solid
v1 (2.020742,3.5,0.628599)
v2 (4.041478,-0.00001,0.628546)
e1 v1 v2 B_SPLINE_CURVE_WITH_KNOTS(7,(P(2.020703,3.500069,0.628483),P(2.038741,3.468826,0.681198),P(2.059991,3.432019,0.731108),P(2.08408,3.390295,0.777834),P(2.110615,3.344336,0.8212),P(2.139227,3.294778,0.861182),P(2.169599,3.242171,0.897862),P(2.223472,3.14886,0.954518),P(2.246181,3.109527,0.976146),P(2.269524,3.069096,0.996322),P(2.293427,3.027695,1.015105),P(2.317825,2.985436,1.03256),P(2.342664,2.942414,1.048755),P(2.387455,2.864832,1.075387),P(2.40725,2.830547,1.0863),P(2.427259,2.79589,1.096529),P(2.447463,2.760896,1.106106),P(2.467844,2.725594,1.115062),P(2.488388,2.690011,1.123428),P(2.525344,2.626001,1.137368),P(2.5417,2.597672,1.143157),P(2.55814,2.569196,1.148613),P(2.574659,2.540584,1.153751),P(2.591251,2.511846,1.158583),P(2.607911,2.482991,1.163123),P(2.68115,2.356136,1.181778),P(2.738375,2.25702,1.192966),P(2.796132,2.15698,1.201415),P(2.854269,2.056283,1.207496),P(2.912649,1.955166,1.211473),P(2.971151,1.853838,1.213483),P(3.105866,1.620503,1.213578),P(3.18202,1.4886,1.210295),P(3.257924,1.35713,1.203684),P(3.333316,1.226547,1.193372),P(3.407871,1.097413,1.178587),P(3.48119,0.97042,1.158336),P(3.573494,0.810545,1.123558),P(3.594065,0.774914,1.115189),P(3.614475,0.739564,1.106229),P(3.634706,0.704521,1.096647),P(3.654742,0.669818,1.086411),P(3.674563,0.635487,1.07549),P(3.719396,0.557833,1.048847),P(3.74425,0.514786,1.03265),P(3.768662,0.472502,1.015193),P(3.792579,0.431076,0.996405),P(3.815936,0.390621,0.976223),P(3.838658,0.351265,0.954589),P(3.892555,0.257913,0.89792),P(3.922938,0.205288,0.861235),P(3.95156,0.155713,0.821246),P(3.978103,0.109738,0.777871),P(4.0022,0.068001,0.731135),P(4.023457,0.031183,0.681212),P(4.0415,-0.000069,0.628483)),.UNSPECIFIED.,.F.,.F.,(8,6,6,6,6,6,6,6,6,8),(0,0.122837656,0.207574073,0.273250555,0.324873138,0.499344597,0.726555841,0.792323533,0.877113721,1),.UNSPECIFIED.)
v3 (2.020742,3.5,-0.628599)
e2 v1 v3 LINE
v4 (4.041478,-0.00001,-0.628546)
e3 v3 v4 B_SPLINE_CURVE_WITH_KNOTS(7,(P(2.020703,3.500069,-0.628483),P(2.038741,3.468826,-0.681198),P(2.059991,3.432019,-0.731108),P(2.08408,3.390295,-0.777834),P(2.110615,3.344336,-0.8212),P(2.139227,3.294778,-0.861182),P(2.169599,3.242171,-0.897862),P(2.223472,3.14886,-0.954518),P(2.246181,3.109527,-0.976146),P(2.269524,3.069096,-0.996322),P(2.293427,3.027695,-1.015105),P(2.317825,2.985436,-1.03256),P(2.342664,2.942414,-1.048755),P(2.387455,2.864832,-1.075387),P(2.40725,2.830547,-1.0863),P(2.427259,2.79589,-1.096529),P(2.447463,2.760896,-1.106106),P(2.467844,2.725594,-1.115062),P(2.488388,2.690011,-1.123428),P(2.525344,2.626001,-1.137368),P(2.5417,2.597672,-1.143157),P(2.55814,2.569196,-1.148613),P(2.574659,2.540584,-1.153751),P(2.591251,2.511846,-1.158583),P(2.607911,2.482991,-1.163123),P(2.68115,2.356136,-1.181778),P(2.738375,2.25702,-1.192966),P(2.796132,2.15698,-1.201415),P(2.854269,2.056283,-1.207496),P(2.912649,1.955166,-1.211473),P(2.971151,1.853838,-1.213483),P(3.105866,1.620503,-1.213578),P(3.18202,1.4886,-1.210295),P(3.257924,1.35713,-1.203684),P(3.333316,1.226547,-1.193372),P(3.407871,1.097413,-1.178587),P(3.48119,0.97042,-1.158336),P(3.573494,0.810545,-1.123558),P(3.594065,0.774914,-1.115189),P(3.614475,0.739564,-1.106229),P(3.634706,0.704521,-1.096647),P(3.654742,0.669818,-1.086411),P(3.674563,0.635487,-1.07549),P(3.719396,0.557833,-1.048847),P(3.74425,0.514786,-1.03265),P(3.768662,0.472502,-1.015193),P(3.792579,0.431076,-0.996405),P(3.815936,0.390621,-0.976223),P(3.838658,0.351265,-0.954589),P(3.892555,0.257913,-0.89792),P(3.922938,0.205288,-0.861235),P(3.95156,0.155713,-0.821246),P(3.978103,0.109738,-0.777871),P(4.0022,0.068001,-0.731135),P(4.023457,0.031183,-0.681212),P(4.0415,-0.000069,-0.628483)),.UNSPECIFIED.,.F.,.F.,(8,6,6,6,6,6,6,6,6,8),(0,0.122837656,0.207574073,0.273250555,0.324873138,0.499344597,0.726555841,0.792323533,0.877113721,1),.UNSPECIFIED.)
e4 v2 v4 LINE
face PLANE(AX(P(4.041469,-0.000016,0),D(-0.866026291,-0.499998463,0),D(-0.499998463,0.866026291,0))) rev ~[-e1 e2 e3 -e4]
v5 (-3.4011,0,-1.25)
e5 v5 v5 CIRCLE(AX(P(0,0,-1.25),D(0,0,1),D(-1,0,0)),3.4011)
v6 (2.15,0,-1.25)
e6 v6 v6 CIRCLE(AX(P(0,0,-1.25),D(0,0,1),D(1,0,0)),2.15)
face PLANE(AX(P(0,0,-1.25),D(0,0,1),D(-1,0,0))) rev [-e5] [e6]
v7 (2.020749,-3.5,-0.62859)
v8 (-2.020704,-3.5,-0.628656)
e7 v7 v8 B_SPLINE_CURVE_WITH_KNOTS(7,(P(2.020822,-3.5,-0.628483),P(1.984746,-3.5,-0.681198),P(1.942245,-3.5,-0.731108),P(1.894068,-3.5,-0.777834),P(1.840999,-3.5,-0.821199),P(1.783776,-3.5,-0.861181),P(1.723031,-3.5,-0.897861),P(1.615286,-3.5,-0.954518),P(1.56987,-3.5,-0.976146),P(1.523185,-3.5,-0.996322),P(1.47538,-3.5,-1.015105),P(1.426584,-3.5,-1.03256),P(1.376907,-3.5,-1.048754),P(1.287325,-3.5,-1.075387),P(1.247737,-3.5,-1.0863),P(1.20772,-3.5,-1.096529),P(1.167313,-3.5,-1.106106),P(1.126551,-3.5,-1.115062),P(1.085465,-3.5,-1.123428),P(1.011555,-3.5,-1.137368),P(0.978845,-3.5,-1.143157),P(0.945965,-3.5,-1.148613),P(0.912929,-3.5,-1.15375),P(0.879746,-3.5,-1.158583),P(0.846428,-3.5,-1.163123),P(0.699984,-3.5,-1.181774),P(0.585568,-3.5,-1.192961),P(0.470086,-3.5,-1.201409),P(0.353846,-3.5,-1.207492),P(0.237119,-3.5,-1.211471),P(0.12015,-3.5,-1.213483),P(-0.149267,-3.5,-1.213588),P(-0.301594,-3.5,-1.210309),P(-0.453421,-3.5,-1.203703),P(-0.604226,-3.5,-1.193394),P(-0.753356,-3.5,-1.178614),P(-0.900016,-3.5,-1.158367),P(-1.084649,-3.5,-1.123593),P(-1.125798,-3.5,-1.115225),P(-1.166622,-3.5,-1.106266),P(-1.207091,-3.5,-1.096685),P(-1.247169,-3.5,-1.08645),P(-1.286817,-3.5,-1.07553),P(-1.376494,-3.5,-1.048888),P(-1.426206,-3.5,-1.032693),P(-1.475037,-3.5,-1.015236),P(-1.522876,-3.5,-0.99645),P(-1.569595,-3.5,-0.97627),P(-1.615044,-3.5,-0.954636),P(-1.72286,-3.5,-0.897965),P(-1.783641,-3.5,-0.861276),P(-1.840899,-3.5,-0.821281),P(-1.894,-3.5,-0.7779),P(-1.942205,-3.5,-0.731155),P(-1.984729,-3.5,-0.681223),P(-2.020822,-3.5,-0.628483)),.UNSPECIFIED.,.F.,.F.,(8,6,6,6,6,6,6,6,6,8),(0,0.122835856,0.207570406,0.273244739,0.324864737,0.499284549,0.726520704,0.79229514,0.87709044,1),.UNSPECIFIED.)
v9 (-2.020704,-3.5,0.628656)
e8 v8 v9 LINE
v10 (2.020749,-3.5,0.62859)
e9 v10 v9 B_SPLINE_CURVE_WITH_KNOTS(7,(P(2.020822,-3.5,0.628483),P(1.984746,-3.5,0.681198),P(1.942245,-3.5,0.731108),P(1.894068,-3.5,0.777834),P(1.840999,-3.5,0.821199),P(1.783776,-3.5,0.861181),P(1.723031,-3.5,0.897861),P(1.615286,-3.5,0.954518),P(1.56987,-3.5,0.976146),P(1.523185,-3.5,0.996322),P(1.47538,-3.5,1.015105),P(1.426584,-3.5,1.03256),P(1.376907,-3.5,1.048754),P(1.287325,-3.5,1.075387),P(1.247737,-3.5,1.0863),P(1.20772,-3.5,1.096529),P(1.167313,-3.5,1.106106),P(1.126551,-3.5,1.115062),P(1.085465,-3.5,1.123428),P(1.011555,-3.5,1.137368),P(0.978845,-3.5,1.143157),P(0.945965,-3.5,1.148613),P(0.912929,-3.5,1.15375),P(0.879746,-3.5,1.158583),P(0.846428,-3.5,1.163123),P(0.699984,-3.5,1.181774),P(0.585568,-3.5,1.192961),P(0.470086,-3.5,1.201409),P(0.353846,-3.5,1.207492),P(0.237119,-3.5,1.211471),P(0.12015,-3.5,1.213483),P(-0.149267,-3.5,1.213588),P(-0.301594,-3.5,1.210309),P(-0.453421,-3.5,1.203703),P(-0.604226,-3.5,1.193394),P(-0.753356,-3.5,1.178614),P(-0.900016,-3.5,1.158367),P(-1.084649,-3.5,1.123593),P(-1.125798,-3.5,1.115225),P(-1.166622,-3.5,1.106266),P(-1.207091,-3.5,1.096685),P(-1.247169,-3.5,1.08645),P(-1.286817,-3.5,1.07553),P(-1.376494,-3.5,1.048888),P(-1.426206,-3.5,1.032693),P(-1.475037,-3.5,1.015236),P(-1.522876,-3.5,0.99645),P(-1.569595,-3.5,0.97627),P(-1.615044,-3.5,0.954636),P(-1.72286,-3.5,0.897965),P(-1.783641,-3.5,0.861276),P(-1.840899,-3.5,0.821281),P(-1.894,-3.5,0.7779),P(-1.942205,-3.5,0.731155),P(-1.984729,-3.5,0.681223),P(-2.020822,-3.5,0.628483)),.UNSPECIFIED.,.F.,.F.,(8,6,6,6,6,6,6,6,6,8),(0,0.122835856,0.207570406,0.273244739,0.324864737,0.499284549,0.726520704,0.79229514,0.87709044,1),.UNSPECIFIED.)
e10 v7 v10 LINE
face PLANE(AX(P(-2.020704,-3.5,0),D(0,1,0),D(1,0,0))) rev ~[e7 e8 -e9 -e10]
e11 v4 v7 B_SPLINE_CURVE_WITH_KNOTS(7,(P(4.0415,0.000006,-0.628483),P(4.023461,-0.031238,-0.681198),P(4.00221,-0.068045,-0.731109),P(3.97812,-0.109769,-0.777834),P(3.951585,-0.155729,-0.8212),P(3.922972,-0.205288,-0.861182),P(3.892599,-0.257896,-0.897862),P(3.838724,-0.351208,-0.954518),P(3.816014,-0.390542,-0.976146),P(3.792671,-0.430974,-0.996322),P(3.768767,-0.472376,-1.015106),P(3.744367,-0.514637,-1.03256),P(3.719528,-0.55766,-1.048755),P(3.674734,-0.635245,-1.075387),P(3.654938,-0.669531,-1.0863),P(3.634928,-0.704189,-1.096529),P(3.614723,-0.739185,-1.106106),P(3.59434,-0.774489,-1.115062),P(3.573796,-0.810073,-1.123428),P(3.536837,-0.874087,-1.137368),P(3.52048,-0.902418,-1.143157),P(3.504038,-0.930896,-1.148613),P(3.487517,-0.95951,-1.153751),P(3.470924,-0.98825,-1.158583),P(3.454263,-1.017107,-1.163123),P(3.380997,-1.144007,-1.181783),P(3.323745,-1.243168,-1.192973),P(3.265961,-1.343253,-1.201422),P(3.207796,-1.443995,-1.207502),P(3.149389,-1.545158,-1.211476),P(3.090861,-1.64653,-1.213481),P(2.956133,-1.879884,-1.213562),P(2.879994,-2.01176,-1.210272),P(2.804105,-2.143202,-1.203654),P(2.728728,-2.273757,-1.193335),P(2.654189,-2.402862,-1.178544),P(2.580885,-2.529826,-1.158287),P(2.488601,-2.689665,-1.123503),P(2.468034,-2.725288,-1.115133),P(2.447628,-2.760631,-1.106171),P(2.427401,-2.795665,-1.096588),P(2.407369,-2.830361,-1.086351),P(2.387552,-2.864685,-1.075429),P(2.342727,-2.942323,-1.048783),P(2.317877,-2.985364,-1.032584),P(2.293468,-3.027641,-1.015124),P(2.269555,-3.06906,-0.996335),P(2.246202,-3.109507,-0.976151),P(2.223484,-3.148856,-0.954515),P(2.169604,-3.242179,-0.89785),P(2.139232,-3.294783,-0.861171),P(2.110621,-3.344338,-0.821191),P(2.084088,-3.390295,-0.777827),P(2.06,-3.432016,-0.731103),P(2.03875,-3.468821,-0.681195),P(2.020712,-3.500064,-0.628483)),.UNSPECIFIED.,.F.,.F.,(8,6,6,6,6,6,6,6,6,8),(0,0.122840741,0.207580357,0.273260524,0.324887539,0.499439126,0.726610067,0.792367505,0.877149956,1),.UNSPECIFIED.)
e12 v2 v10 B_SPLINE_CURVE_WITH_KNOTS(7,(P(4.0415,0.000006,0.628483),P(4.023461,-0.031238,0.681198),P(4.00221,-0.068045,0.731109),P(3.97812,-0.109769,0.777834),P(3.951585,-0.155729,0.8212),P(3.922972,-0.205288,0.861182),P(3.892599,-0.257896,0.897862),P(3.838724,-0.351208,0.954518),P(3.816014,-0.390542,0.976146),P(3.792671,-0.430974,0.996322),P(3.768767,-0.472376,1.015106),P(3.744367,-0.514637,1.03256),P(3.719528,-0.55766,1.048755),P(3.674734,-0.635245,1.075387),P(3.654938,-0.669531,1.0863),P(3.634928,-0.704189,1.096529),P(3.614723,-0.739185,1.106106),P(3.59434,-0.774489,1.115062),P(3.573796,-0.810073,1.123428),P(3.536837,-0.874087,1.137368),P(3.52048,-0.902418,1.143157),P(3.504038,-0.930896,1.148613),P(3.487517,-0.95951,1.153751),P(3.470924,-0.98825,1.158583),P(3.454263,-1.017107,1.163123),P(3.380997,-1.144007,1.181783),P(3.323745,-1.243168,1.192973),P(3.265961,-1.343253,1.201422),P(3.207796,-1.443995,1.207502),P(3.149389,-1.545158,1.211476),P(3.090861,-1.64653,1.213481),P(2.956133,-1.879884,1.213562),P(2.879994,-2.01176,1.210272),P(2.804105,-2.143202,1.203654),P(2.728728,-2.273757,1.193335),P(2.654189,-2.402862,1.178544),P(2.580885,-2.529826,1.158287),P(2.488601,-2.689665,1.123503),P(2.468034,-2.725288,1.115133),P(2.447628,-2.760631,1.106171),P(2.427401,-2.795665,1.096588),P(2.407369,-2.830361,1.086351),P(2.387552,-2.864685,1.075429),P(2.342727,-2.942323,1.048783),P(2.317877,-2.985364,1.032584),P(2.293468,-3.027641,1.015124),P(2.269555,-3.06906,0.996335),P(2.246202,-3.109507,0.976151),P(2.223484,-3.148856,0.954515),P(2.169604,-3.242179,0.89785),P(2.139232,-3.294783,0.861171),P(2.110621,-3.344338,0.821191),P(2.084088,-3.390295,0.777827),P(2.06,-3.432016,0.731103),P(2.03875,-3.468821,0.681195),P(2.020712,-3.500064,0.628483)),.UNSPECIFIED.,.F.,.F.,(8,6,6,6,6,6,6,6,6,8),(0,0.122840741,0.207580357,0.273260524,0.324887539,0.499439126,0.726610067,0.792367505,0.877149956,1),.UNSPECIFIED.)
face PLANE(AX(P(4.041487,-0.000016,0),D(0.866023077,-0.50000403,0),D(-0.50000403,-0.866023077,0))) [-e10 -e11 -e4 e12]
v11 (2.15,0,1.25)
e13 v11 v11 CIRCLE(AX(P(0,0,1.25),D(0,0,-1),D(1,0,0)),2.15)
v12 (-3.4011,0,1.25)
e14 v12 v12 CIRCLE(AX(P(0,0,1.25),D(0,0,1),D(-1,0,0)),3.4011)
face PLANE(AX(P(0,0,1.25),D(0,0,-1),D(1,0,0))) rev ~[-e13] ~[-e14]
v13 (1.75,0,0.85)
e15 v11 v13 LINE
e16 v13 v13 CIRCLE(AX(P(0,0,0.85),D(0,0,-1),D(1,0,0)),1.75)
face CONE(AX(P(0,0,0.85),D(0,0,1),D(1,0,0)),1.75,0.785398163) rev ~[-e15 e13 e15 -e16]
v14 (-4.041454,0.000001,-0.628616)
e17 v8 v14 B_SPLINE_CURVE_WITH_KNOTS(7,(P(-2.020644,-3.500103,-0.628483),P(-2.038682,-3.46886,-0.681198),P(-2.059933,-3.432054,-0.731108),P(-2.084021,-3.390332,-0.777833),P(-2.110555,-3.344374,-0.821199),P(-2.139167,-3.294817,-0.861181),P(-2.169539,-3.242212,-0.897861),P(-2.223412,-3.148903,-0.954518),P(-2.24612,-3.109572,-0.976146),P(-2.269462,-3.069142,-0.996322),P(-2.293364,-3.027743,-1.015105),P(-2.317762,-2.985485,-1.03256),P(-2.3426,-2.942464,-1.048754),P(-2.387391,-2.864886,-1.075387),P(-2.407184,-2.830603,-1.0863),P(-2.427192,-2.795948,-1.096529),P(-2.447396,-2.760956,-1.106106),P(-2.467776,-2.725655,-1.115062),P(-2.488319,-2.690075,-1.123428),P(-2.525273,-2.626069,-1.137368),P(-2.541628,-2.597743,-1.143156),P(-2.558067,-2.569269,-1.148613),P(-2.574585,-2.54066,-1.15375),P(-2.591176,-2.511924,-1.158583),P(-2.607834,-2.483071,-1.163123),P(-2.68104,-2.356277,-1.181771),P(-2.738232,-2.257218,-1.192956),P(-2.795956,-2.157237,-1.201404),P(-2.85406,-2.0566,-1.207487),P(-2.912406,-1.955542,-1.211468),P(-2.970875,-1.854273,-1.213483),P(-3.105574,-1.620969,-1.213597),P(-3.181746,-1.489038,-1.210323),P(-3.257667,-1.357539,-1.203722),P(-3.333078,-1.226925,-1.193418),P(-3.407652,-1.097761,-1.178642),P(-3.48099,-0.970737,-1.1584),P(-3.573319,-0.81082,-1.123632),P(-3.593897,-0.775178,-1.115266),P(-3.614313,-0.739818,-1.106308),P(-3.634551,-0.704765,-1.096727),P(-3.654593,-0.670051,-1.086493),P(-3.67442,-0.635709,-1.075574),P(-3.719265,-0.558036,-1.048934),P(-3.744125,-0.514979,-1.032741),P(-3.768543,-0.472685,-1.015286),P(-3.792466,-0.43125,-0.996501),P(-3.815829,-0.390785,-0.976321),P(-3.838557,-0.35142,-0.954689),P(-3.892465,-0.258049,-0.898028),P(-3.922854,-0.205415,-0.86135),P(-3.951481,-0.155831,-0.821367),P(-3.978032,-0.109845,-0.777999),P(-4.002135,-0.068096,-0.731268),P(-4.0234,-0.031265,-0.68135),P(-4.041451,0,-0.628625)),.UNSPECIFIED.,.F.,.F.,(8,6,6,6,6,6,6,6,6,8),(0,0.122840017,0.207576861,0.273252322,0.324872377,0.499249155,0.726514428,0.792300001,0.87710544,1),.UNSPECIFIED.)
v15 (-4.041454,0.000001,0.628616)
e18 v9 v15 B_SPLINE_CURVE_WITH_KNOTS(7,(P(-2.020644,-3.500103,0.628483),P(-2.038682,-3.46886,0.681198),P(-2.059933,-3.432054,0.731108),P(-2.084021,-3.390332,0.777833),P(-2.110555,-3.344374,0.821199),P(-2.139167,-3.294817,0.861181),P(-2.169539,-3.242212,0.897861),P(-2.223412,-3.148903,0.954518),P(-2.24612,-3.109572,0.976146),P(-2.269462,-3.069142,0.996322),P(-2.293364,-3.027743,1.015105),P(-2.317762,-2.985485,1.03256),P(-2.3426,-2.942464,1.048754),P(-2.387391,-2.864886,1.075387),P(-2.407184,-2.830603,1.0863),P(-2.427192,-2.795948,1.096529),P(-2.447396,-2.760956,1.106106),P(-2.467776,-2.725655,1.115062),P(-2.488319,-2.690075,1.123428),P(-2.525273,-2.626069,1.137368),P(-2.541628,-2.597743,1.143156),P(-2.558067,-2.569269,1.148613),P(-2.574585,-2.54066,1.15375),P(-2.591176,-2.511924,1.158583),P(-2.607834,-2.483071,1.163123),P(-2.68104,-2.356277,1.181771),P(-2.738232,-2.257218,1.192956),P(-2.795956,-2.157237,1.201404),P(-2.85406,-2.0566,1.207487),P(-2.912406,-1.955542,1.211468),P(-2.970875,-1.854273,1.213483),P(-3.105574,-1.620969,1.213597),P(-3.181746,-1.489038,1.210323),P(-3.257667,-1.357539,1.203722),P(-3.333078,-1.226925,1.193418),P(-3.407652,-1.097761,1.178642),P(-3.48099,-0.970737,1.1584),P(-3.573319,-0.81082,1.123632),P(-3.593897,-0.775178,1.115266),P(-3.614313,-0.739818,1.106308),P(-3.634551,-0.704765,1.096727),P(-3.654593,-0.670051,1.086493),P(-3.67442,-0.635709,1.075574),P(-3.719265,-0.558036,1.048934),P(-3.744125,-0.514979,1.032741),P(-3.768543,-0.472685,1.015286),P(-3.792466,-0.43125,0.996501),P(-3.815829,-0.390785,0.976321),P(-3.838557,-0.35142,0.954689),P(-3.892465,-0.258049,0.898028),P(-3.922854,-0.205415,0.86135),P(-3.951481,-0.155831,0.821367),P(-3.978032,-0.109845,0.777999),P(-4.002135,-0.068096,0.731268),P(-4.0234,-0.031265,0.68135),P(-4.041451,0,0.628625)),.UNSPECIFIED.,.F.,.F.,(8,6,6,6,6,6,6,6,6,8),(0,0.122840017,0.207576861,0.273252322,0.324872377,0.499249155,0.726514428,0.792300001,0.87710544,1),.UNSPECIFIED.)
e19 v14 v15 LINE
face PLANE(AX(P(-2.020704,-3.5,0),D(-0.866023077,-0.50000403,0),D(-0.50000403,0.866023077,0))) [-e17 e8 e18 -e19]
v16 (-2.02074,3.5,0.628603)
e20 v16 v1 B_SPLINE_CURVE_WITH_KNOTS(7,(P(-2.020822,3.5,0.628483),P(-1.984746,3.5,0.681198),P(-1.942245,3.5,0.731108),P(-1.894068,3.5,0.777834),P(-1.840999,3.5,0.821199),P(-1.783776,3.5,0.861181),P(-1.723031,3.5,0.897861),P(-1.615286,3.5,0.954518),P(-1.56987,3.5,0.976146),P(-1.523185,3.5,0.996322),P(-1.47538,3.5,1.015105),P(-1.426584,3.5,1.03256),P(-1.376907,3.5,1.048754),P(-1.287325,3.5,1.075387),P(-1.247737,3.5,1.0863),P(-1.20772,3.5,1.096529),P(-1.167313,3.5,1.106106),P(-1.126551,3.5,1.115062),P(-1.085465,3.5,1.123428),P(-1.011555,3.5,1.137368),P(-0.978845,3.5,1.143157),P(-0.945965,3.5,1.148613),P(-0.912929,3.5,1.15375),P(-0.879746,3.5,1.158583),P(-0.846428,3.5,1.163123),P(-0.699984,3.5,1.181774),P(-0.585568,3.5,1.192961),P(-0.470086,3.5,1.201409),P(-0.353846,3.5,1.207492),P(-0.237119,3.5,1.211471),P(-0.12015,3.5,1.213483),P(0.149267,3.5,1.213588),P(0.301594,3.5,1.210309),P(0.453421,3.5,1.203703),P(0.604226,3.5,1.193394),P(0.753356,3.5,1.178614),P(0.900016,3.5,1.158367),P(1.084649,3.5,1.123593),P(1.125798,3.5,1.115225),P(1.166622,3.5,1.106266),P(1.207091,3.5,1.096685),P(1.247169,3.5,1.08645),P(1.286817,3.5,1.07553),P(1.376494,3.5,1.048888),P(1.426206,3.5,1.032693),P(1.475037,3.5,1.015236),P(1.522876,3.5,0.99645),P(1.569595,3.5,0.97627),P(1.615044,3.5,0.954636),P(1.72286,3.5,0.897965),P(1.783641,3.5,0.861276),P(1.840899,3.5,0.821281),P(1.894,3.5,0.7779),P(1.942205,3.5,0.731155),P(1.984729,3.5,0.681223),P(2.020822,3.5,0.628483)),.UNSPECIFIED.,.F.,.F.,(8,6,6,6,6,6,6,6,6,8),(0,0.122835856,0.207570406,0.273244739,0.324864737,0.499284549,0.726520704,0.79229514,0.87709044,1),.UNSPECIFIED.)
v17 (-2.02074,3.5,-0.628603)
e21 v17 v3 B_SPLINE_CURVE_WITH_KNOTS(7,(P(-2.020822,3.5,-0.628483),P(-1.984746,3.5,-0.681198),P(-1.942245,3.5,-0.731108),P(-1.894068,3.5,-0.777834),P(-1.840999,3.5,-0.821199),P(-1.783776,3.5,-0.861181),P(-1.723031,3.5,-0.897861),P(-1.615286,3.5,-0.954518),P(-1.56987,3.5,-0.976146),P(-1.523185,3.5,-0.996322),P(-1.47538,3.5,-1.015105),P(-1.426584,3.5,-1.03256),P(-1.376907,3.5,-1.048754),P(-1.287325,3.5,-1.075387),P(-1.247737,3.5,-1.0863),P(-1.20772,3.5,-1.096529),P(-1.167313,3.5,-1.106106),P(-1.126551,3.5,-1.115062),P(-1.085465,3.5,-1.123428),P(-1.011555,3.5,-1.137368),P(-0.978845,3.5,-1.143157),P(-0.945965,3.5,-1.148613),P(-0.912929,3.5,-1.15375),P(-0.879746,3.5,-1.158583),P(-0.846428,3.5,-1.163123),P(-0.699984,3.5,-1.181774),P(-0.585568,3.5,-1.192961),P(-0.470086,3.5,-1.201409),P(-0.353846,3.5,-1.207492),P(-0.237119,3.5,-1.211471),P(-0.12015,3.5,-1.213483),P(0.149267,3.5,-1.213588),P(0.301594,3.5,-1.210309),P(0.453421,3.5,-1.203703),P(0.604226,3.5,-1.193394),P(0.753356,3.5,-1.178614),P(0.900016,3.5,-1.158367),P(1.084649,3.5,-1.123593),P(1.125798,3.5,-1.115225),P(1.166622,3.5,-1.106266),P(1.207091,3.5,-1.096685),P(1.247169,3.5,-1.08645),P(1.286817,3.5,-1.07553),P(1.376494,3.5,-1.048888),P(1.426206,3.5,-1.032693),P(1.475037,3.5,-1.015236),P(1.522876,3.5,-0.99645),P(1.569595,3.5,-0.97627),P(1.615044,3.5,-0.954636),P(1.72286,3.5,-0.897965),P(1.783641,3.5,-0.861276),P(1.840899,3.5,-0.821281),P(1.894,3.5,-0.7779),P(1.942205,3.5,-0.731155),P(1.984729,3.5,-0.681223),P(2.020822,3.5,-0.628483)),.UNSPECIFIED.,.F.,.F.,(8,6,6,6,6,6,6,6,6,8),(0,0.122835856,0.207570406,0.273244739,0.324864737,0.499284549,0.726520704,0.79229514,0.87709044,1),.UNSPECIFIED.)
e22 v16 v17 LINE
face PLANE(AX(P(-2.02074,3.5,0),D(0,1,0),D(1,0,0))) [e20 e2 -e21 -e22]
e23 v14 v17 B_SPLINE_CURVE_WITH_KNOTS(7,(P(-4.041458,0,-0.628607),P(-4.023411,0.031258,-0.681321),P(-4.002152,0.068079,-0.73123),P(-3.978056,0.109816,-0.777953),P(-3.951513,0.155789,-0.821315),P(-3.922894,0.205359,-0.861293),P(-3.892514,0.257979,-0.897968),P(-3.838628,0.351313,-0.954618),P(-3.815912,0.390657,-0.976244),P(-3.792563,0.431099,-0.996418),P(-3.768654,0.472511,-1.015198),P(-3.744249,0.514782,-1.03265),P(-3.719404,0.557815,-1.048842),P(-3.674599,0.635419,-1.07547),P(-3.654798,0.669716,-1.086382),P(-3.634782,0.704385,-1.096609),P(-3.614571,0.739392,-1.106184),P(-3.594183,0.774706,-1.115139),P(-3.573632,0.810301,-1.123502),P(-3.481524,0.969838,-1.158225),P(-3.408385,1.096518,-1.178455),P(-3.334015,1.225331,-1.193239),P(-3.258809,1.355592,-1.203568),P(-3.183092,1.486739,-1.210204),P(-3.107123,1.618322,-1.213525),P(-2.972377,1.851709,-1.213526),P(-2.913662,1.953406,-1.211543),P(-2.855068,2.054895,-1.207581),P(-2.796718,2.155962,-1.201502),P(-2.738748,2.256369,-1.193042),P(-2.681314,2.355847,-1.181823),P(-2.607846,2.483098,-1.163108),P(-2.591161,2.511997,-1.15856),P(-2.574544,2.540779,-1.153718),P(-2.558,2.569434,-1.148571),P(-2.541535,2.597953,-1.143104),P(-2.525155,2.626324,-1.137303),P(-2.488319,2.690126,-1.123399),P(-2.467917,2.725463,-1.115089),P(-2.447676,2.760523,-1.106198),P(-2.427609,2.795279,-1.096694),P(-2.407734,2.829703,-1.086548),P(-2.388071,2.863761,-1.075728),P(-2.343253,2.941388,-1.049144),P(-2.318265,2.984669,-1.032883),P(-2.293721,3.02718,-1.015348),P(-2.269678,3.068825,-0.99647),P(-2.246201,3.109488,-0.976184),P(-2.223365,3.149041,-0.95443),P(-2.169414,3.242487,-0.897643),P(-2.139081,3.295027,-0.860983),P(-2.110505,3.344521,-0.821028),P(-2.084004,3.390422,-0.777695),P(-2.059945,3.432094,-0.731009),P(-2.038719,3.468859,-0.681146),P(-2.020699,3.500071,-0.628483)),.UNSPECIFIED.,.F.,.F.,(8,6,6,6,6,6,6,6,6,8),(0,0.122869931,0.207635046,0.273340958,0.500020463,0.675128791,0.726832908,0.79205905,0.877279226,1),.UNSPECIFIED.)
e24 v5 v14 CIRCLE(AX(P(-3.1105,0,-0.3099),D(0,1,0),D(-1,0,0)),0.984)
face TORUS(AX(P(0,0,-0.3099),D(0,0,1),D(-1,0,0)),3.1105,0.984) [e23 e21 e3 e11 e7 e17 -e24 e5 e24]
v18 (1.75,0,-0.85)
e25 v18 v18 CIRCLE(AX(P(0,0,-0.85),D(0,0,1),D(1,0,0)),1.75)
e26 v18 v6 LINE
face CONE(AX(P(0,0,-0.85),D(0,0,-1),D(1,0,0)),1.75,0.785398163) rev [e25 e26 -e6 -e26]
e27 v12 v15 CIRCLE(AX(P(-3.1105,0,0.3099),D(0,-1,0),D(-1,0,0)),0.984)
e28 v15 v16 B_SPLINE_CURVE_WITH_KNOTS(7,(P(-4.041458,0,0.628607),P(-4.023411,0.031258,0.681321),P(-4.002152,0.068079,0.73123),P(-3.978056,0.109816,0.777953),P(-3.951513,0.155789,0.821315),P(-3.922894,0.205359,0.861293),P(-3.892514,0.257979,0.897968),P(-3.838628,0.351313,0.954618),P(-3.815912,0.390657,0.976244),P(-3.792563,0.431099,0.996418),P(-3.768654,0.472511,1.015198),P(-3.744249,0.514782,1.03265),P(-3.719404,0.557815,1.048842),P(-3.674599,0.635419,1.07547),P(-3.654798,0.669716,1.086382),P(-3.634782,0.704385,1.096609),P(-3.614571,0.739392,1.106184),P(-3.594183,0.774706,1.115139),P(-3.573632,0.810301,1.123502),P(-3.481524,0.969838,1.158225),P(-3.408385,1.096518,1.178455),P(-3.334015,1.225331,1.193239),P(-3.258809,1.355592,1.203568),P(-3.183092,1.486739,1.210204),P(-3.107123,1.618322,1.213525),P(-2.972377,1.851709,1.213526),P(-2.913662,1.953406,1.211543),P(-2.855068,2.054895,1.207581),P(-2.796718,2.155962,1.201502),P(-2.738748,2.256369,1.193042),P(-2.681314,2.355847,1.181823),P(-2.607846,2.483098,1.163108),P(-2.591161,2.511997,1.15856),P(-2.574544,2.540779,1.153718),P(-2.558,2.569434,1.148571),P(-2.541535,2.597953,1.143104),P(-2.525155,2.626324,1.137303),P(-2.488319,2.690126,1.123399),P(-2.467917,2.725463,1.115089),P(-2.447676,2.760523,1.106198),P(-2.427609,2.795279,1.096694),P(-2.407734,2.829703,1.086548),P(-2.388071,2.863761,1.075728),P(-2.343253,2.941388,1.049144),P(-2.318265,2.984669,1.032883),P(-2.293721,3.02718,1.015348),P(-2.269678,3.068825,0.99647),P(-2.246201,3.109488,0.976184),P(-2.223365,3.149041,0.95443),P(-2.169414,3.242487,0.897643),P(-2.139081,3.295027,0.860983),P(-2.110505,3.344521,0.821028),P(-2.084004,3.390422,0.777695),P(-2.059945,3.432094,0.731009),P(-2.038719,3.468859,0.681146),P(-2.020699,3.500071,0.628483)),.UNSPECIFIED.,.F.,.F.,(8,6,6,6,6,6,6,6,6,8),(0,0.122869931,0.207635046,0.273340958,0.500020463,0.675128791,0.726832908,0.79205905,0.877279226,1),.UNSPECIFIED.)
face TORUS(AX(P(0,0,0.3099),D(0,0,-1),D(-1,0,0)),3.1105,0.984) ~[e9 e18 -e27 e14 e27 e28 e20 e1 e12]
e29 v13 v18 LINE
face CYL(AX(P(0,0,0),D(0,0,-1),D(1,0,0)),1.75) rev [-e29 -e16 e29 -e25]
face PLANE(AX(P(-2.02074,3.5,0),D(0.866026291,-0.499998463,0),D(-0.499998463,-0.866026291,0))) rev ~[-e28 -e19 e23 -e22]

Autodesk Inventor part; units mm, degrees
ref_plane "YZ Plane" through (0, 0, 0) normal (1, 0, 0) x (0, 1, 0)
ref_plane "XZ Plane" through (0, 0, 0) normal (0, 1, 0) x (-1, 0, 0)
ref_plane "XY Plane" through (0, 0, 0) normal (0, 0, 1) x (1, 0, 0)
sketch "Sketch1" plane through (0, 0, 0) normal (0, 0, 1) x (1, 0, 0)
  line L0 (-4.0776, 0) -> (11.9806, 0)
  line L1 (0, 5.675) -> (0, -5.0865)
  line L2 (-3.6188, 3.5) -> (4.159, 3.5)
  line L3 (-3.3522, -3.5) -> (4.4256, -3.5)
  line L4 (-1.2217, -4.8839) -> (-5.1106, 1.8518)
  line L5 (4.7072, -1.1531) -> (0.8183, 5.5827)
  line L6 (4.8405, 1.3839) -> (0.9516, -5.3518)
  line L7 (-1.355, 4.6531) -> (-5.2439, -2.0827)
  circle A0 centre (0, 0) radius 1.75
  point P0 (4.0415, 0)
  point P1 (2.0207, 3.5)
  point P2 (-2.0207, 3.5)
  point P3 (-4.0415, 0)
  point P4 (-2.0207, -3.5)
  point P5 (2.0207, -3.5)
  dimension "d0" = 7
  dimension "d3" = 360
  dimension "d5" = 3.5
extrude "Extrusion1" add sketch "Sketch1" along normal mid plane 2.5 contours L7 L2 L1 A0 L0 | L0 A0 L1 L3 L4 | L1 L2 L5 L0 A0 | A0 L0 L6 L3 L1
sketch "Sketch2" plane through (0, 0, 0) normal (0, 1, 0) x (-1, 0, 0)
  circle A0 centre (3.1105, -0.3099) radius 0.984
  line L0 (0, -2.0822) -> (0, 3.6497)
  line L1 (2.0207, -1.25) -> (4.0415, -1.25) projected
  line L2 (3.4011, -1.25) -> (4.0415, -1.25)
  line L3 (4.0415, -1.25) -> (4.0415, 0.0088)
  point P0 (0, 0)
  point P1 (4.0415, -0.6286)
  point P2 (2.8198, -1.25)
  dimension "d11" = 1.968
  dimension "d12" = 0.9401
  dimension "d13" = 0.931
revolve "Revolution1" cut sketch "Sketch2" angle 360 about axis through (0, 0, -2.0822) along (0, 0, 1) picked at (3.9263, -1.0343) contours L3 L1 A0 | L1 A0
mirror "Mirror1" about plane through (0, 0, 0) normal (0, 0, 1) of "Revolution1"
thread "Thread1" size "M3.5x0.6" class "6H" standard "ANSI Metric M Profile" length 45
chamfer "Chamfer1" distance 0.4 angle 45 1 edges at (-1.75, 0, 1.25)
chamfer "Chamfer2" distance 0.4 angle 45 1 edges at (-1.75, 0, -1.25)
properties part number "somun"
